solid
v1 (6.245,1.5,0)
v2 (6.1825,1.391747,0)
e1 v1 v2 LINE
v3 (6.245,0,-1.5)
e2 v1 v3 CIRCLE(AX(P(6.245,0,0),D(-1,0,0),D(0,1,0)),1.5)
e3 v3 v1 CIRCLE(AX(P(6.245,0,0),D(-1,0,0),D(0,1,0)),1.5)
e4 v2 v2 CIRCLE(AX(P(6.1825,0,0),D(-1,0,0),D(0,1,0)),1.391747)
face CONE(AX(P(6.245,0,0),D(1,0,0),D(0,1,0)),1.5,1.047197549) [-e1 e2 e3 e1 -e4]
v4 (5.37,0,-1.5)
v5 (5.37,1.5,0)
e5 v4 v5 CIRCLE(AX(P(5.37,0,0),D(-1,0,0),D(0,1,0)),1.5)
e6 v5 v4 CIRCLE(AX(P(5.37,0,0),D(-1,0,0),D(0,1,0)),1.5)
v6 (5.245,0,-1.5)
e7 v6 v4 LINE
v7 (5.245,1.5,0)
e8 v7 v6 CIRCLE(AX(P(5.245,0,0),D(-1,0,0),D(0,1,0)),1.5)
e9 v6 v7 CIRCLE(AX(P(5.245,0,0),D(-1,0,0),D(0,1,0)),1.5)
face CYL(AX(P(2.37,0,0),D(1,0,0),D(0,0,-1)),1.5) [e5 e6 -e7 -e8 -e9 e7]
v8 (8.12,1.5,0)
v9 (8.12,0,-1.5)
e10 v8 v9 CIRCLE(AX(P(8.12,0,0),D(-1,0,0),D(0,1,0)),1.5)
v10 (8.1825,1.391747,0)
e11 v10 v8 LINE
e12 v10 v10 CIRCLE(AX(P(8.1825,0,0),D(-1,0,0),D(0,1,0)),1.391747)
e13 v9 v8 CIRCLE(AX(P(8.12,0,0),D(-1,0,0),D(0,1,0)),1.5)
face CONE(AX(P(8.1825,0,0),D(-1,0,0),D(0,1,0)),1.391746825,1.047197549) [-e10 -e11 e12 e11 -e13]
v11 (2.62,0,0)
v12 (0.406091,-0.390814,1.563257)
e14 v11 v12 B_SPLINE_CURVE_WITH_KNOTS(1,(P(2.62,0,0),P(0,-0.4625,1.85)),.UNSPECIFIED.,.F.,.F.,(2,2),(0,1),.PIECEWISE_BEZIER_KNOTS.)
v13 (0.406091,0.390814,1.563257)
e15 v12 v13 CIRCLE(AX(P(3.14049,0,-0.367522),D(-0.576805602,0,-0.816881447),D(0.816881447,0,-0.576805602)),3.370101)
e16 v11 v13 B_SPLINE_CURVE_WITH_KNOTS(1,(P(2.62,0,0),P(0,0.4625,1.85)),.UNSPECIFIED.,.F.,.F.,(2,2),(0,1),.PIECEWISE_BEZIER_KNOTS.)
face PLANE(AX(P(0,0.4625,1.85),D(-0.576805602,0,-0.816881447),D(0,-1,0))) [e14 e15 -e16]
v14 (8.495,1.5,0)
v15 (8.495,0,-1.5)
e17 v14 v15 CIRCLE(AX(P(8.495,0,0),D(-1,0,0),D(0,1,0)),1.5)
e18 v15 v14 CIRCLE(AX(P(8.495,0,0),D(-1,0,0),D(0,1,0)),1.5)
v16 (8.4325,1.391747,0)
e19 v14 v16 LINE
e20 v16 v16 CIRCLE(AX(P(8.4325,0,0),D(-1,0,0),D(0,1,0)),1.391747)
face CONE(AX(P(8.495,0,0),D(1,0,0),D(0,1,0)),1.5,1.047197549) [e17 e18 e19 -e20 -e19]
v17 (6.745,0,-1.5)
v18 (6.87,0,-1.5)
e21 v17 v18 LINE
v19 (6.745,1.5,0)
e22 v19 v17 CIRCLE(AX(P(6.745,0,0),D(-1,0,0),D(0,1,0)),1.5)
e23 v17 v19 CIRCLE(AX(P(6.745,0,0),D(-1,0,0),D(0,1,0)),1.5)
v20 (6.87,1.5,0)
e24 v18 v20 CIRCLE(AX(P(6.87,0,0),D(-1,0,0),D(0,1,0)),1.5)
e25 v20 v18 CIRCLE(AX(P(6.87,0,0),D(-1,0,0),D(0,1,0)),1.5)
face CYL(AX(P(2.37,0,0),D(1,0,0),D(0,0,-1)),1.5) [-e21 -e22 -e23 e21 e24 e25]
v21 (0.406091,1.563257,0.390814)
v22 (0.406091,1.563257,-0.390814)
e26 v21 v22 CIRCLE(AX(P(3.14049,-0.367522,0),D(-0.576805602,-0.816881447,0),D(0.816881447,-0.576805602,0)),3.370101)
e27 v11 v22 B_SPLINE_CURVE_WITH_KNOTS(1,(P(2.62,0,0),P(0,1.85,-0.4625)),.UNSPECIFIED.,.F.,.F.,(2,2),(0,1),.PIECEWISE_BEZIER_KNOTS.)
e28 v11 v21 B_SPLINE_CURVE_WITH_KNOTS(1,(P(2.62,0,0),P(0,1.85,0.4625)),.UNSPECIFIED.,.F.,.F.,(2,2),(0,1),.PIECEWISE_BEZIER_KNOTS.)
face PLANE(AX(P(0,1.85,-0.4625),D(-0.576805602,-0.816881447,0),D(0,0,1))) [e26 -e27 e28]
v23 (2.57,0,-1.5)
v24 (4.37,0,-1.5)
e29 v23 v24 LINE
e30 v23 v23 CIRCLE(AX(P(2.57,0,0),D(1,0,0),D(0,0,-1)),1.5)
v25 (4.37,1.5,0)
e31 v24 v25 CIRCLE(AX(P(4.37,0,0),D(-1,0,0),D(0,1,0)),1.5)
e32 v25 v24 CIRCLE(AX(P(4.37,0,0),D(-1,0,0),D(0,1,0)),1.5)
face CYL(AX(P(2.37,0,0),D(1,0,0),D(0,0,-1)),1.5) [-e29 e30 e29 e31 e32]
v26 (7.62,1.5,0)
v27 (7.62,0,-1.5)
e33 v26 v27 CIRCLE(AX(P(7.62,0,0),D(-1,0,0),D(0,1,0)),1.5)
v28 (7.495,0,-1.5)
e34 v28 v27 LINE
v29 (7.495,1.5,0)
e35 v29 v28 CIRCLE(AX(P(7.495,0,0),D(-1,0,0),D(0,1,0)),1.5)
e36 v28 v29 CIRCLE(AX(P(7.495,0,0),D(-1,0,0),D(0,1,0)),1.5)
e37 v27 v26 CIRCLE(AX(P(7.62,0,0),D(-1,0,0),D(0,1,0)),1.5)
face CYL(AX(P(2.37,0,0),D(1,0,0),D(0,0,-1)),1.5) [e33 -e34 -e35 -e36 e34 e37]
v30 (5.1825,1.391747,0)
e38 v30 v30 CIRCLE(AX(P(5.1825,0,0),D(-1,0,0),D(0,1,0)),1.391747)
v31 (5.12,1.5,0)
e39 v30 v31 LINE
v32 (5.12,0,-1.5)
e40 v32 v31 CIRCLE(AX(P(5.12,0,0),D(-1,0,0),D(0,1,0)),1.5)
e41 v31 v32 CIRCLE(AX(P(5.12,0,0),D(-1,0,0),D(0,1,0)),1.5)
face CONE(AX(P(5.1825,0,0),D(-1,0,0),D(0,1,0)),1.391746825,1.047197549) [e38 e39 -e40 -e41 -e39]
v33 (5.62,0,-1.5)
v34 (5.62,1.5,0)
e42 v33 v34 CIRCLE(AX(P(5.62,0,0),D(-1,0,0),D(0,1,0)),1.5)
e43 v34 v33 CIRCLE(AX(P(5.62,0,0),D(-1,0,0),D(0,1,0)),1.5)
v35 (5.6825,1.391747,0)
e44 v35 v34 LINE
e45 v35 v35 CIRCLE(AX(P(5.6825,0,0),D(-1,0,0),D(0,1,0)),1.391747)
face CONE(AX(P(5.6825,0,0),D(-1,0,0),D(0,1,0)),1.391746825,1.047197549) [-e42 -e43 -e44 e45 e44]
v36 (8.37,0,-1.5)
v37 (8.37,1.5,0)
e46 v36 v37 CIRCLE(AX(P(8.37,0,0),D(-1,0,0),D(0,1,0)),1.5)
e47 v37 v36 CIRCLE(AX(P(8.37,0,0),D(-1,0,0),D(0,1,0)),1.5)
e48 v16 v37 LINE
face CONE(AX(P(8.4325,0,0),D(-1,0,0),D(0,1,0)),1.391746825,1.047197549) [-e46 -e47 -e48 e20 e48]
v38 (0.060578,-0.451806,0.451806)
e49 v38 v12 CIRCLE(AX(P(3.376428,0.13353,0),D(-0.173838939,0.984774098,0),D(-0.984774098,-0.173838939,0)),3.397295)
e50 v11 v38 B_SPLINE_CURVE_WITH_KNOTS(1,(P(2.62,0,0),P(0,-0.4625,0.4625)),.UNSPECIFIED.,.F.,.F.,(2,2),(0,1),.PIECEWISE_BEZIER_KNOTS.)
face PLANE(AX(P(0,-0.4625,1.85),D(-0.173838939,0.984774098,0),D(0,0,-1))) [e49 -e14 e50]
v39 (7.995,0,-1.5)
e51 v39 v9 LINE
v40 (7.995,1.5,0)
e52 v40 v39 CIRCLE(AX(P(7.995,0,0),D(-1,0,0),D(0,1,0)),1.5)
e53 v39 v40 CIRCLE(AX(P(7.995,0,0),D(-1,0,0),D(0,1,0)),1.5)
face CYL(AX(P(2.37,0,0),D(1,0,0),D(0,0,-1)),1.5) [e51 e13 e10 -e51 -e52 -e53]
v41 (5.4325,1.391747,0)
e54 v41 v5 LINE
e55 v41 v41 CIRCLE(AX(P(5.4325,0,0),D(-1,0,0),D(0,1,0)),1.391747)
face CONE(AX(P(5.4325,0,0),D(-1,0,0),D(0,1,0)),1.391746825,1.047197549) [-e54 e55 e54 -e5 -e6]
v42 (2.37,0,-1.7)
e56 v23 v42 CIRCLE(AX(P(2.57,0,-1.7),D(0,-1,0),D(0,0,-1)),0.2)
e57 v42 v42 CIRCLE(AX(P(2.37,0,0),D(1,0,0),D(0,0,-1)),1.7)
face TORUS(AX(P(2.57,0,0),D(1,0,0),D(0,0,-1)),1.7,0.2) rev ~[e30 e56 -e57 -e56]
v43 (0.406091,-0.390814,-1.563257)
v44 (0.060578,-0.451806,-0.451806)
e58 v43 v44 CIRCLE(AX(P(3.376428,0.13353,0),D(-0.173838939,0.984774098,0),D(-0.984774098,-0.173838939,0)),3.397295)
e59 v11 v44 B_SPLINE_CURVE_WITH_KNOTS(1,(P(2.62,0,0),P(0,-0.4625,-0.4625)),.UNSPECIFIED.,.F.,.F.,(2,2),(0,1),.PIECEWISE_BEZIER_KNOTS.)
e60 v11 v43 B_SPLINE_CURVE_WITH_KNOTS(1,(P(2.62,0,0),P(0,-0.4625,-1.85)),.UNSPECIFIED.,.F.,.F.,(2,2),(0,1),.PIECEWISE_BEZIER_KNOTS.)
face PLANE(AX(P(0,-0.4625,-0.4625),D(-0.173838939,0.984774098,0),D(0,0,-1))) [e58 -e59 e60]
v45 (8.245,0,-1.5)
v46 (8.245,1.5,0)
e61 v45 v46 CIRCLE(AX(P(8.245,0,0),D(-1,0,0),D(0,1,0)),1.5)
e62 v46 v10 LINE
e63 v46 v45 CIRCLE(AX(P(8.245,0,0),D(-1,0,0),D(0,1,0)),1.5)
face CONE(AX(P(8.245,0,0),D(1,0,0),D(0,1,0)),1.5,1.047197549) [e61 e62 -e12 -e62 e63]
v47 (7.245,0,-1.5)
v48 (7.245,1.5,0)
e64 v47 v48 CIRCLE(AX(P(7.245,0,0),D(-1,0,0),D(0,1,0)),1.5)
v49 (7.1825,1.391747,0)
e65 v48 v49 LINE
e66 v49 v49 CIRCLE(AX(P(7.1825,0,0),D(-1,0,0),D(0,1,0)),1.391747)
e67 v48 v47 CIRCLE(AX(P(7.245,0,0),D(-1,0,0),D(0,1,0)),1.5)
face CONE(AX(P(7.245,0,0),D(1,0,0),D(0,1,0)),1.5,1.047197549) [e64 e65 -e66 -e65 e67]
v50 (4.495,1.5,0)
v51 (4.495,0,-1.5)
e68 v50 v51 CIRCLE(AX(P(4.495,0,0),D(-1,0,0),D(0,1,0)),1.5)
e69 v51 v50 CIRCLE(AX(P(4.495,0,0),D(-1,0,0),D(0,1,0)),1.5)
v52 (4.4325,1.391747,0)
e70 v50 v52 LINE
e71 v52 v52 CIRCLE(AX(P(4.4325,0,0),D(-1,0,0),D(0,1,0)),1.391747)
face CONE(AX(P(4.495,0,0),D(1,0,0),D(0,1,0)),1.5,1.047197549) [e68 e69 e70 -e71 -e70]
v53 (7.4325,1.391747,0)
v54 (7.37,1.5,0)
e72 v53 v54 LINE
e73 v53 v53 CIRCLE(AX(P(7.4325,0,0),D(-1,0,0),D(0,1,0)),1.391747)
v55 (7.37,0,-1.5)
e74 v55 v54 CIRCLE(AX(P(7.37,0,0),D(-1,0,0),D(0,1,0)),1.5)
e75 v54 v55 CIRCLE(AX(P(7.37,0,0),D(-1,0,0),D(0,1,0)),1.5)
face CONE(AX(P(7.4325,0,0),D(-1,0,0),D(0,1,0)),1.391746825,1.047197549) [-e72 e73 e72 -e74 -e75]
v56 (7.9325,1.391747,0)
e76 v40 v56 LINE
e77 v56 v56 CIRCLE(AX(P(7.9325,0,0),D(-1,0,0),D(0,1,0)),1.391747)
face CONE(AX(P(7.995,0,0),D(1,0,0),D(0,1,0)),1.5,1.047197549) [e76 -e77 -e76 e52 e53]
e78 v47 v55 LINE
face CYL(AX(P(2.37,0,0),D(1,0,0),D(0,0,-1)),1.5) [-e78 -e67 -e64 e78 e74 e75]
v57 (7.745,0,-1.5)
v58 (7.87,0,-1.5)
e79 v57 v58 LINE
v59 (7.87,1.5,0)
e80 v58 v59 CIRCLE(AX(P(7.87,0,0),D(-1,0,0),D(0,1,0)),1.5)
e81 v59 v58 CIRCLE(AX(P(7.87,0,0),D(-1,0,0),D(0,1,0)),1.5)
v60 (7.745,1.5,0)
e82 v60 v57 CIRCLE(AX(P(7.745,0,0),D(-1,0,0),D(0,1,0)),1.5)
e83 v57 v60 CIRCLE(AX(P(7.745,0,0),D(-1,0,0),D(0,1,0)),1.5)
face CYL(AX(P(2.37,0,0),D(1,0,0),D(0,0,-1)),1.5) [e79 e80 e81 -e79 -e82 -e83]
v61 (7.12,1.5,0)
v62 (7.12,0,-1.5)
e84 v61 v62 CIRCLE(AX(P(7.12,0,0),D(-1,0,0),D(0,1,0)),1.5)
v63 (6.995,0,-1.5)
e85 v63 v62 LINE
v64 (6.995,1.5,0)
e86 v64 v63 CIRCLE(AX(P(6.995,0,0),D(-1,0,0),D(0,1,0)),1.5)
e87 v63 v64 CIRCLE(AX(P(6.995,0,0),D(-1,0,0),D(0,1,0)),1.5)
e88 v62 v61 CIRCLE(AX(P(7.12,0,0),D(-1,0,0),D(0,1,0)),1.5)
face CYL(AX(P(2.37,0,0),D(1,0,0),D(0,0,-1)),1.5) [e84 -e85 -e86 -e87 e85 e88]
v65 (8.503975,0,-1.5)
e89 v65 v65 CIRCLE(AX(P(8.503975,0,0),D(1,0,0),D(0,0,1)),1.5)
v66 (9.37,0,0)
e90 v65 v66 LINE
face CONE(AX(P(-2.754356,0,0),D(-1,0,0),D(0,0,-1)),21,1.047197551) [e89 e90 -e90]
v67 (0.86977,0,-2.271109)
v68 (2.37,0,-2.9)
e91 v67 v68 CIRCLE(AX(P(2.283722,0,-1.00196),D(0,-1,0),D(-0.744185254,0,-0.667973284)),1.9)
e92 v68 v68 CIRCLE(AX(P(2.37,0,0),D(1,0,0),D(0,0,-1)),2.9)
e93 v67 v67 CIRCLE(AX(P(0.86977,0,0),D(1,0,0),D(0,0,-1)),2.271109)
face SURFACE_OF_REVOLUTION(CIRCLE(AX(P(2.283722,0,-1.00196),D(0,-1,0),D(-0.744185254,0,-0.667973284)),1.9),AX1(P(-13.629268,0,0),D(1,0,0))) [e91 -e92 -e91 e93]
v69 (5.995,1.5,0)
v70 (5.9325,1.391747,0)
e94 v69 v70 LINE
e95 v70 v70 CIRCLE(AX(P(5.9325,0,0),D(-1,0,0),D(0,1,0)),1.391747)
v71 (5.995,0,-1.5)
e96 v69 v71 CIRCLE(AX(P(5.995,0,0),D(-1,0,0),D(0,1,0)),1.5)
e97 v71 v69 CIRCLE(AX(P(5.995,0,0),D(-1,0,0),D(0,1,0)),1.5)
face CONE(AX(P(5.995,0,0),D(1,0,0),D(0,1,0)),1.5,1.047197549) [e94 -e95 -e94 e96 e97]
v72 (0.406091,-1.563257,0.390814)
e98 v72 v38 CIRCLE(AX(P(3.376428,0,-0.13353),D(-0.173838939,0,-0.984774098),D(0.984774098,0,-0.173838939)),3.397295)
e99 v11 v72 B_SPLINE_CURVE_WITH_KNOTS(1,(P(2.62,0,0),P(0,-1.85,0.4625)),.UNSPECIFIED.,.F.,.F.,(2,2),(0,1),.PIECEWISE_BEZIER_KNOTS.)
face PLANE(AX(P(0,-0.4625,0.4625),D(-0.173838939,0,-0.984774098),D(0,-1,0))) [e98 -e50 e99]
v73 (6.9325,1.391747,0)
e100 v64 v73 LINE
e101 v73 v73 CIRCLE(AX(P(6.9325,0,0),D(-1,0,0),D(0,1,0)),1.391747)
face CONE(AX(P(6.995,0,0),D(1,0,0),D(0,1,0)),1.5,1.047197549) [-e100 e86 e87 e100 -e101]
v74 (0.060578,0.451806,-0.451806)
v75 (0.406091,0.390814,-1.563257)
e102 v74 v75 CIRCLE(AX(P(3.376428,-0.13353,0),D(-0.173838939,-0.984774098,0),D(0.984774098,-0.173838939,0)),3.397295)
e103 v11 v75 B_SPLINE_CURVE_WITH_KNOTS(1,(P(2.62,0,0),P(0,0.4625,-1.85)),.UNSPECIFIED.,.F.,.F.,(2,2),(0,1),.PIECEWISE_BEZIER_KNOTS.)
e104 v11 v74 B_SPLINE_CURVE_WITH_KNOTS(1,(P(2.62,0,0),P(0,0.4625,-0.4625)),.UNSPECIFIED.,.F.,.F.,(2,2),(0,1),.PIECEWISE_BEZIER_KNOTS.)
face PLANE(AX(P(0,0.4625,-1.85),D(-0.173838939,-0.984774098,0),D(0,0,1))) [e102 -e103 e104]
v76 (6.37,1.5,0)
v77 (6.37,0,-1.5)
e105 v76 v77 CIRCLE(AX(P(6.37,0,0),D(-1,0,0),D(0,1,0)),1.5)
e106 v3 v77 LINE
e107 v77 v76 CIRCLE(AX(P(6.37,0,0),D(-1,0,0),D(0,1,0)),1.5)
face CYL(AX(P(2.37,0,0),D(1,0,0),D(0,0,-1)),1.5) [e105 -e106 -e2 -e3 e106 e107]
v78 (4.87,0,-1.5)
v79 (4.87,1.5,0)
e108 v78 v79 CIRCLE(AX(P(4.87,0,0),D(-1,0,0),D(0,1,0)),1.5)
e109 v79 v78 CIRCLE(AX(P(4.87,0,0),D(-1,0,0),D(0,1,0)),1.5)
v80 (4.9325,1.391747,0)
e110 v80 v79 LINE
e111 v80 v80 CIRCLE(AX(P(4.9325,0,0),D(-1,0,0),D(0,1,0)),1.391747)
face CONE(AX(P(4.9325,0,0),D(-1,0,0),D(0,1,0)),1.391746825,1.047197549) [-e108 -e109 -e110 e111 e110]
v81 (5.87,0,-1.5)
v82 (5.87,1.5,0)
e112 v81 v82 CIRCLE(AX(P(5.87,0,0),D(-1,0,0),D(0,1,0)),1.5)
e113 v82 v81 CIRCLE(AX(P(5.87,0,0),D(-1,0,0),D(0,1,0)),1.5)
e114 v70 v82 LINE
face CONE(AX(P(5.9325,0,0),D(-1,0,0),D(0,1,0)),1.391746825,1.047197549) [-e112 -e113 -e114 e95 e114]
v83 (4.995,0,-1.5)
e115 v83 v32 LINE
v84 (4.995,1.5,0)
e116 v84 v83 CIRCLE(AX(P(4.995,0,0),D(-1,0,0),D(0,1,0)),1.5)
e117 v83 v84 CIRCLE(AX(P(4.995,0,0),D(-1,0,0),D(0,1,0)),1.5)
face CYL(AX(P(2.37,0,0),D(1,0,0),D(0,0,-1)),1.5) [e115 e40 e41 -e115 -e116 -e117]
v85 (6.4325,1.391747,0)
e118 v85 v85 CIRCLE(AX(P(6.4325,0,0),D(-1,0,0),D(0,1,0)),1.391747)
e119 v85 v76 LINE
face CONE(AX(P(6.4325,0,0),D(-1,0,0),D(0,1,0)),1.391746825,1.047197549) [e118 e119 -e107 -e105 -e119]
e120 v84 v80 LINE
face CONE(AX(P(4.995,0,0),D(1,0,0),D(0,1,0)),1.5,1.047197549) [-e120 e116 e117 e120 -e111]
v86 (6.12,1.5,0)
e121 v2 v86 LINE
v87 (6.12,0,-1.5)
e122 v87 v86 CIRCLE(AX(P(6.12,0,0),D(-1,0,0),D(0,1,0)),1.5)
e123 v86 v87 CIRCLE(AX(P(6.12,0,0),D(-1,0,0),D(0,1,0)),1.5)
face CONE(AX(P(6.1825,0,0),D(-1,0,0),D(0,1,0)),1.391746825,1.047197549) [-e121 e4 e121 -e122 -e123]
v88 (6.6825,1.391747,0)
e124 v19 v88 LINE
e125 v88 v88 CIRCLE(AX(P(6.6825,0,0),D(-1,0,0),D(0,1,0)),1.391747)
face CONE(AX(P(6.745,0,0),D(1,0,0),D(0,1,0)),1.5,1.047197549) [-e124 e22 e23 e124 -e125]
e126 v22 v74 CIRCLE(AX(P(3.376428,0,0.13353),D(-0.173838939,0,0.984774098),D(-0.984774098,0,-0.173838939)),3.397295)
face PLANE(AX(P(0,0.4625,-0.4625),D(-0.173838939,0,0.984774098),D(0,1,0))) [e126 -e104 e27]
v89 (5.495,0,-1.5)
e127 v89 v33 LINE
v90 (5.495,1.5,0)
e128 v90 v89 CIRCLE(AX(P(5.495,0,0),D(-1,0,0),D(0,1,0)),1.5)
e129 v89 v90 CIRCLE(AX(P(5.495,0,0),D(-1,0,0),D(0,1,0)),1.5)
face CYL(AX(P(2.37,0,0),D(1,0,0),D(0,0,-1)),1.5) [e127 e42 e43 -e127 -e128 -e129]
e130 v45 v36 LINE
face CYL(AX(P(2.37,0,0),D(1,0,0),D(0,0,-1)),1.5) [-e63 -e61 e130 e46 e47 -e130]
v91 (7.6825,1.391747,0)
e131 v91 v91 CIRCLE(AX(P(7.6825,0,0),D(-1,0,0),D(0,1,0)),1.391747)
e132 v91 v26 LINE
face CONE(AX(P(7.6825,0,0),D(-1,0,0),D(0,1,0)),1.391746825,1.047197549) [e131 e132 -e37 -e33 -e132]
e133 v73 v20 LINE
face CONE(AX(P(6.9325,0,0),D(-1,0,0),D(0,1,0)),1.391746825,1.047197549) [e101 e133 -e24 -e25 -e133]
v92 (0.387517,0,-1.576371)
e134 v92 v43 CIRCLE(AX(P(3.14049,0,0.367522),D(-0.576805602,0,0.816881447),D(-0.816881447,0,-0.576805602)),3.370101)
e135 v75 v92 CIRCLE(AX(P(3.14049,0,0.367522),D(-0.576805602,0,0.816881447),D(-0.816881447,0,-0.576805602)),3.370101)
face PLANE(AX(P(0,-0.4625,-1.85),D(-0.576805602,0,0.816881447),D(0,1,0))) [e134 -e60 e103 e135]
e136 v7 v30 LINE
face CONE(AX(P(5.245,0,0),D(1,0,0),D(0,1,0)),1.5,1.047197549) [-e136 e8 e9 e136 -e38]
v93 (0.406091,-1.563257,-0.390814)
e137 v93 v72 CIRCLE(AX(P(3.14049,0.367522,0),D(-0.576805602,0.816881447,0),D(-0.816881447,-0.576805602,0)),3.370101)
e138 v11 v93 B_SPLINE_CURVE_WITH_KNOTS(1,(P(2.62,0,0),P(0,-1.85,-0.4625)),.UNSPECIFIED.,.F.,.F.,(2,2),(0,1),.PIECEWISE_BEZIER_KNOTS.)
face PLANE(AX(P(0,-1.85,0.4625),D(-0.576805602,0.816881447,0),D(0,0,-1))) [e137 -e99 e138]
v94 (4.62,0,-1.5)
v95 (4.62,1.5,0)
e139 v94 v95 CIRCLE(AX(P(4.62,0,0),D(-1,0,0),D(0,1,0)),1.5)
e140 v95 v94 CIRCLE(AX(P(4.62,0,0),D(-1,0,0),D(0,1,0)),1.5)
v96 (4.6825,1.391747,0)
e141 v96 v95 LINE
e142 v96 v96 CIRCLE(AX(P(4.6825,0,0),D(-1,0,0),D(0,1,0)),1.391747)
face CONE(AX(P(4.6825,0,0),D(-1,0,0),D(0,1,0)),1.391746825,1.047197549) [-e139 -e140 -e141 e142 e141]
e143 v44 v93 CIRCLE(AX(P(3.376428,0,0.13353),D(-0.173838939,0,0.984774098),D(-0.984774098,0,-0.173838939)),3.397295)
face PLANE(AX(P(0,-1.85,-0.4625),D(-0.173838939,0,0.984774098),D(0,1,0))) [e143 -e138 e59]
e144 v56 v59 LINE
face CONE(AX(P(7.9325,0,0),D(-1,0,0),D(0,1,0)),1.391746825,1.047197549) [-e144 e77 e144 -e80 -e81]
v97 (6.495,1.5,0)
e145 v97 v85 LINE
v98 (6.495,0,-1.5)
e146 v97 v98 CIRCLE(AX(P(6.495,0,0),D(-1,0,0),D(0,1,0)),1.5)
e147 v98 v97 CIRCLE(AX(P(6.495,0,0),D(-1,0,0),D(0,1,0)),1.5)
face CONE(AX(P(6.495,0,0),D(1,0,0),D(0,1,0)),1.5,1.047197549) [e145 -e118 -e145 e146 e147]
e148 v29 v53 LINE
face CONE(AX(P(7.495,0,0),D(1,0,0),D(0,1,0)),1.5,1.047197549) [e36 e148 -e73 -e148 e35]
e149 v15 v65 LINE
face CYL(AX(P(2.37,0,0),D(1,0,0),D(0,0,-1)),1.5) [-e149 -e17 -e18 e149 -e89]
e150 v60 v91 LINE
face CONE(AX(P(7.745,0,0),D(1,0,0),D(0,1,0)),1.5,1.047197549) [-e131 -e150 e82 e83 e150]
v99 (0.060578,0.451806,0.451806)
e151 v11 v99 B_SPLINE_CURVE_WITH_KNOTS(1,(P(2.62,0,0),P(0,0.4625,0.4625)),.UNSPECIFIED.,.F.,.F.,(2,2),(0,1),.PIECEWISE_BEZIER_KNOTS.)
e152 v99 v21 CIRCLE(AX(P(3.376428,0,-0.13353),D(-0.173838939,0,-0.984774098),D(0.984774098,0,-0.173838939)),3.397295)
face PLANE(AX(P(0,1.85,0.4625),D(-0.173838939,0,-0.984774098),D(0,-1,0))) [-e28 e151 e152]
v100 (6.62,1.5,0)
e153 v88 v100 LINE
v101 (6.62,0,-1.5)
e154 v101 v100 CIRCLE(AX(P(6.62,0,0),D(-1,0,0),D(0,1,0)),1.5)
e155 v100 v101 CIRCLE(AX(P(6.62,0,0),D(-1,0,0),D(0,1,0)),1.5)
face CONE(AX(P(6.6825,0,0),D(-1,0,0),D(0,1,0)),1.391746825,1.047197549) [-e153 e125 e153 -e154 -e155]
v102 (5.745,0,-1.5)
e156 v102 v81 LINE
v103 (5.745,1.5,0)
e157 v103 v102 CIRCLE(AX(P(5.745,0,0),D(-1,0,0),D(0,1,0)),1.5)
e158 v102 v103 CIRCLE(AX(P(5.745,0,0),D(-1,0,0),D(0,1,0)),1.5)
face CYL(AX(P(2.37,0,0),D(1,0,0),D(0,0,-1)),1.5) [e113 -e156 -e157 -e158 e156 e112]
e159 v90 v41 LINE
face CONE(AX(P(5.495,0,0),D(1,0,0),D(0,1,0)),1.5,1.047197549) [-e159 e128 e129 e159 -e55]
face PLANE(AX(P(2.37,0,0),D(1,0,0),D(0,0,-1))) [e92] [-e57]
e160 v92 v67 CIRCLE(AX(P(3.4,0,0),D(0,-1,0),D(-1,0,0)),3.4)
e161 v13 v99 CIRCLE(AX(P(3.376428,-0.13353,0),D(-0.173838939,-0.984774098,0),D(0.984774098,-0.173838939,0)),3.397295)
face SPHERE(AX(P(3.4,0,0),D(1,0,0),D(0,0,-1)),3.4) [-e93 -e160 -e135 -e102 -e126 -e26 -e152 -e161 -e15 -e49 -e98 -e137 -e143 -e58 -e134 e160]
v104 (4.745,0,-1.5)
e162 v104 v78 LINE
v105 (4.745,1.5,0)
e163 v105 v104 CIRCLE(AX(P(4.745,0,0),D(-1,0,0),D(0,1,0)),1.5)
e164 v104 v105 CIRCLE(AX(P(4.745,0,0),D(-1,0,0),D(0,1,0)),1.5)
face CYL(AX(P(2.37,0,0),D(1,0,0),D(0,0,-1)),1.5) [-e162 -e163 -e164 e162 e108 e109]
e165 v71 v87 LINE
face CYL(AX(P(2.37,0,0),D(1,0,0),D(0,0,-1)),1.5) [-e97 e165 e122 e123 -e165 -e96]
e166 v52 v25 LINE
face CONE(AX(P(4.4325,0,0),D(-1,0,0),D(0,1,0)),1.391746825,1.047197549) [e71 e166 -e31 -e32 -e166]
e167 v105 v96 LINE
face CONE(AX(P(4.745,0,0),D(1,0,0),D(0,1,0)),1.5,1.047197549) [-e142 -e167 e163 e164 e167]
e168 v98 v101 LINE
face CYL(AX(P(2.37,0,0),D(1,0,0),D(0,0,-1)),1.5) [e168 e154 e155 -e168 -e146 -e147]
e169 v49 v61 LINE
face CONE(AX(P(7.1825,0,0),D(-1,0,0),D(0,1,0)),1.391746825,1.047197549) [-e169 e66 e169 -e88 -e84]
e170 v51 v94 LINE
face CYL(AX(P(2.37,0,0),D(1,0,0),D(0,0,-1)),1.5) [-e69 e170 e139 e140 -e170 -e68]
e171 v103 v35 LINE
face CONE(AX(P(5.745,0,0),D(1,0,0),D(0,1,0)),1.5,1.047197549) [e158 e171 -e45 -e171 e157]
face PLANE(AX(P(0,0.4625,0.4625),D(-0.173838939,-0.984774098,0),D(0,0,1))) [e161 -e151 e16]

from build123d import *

# Parameters (mm, degrees)
FILLET2_R        = 0.2
LPATTERN10_COUNT = 20
LPATTERN10_PITCH = 0.25


with BuildPart() as part:
    # Sketch1 → Revolve1 (revolve)
    with BuildSketch(Plane(origin=(0, 0, 0), x_dir=(1, 0, 0), z_dir=(0, 1, 0))):
        with BuildLine():
            Line((2.37, 1.5), (9.37, 1.5))
            Line((9.37, 1.5), (9.37, 0))
            Line((9.37, 0), (0, 0))
            ThreePointArc((0, 0), (0.224879408, 1.215980768), (0.869770135, 2.271109163))
            ThreePointArc((0.869770135, 2.271109163), (1.549177667, 2.754228297), (2.37, 2.9))
            Line((2.37, 2.9), (2.37, 1.5))
        make_face()
    revolve(axis=Axis((-13.629268293, 0, 0), (1, 0, 0)))

    # Fillet2
    fillet2_edges = [part.edges().sort_by_distance(p)[0] for p in [
        (2.37, 0, 1.5),
    ]]
    fillet(fillet2_edges, radius=FILLET2_R)

    # Sketch4 → Cut-Revolve1 (revolve, cut)
    with BuildSketch(Plane(origin=(0, 0, 0), x_dir=(1, 0, 0), z_dir=(0, 1, 0))):
        Polygon((10.103454633, 0), (10.103454633, 21), (-2.754355653, 21), (9.37, 0), align=None)
    revolve(axis=Axis((4.782773752, 0, 0), (1, 0, 0)), mode=Mode.SUBTRACT)

    # Sketch2 → Cut-Loft1 section 0
    with BuildSketch(Plane(origin=(0, 0, 0), x_dir=(0, 0, -1), z_dir=(1, 0, 0)), mode=Mode.PRIVATE) as cut_loft1_s0:
        Polygon((-0.4625, 0.4625), (-1.85, 0.4625), (-1.85, -0.4625), (-0.4625, -0.4625), (-0.4625, -1.85), (0.4625, -1.85), (0.4625, -0.4625), (1.85, -0.4625), (1.85, 0.4625), (0.4625, 0.4625), (0.4625, 1.85), (-0.4625, 1.85), align=None)
    loft([Vertex(2.62, 0, 0), cut_loft1_s0.sketch], mode=Mode.SUBTRACT)

    # Sketch6 → Cut-Revolve10 (revolve, cut)
    with BuildSketch(Plane.XY):
        Polygon((4.37, 1.7), (4.495, 1.7), (4.495, 1.5), (4.4325, 1.391746825), (4.37, 1.5), align=None)
    cut_revolve10 = revolve(axis=Axis((10.774329131, 0, 0), (-1, 0, 0)), mode=Mode.SUBTRACT)

    # LPattern10: Cut-Revolve10 ×20
    with Locations(*[(i * LPATTERN10_PITCH, 0, 0) for i in range(1, LPATTERN10_COUNT)]):
        add(cut_revolve10, mode=Mode.SUBTRACT)


solid = part.part
